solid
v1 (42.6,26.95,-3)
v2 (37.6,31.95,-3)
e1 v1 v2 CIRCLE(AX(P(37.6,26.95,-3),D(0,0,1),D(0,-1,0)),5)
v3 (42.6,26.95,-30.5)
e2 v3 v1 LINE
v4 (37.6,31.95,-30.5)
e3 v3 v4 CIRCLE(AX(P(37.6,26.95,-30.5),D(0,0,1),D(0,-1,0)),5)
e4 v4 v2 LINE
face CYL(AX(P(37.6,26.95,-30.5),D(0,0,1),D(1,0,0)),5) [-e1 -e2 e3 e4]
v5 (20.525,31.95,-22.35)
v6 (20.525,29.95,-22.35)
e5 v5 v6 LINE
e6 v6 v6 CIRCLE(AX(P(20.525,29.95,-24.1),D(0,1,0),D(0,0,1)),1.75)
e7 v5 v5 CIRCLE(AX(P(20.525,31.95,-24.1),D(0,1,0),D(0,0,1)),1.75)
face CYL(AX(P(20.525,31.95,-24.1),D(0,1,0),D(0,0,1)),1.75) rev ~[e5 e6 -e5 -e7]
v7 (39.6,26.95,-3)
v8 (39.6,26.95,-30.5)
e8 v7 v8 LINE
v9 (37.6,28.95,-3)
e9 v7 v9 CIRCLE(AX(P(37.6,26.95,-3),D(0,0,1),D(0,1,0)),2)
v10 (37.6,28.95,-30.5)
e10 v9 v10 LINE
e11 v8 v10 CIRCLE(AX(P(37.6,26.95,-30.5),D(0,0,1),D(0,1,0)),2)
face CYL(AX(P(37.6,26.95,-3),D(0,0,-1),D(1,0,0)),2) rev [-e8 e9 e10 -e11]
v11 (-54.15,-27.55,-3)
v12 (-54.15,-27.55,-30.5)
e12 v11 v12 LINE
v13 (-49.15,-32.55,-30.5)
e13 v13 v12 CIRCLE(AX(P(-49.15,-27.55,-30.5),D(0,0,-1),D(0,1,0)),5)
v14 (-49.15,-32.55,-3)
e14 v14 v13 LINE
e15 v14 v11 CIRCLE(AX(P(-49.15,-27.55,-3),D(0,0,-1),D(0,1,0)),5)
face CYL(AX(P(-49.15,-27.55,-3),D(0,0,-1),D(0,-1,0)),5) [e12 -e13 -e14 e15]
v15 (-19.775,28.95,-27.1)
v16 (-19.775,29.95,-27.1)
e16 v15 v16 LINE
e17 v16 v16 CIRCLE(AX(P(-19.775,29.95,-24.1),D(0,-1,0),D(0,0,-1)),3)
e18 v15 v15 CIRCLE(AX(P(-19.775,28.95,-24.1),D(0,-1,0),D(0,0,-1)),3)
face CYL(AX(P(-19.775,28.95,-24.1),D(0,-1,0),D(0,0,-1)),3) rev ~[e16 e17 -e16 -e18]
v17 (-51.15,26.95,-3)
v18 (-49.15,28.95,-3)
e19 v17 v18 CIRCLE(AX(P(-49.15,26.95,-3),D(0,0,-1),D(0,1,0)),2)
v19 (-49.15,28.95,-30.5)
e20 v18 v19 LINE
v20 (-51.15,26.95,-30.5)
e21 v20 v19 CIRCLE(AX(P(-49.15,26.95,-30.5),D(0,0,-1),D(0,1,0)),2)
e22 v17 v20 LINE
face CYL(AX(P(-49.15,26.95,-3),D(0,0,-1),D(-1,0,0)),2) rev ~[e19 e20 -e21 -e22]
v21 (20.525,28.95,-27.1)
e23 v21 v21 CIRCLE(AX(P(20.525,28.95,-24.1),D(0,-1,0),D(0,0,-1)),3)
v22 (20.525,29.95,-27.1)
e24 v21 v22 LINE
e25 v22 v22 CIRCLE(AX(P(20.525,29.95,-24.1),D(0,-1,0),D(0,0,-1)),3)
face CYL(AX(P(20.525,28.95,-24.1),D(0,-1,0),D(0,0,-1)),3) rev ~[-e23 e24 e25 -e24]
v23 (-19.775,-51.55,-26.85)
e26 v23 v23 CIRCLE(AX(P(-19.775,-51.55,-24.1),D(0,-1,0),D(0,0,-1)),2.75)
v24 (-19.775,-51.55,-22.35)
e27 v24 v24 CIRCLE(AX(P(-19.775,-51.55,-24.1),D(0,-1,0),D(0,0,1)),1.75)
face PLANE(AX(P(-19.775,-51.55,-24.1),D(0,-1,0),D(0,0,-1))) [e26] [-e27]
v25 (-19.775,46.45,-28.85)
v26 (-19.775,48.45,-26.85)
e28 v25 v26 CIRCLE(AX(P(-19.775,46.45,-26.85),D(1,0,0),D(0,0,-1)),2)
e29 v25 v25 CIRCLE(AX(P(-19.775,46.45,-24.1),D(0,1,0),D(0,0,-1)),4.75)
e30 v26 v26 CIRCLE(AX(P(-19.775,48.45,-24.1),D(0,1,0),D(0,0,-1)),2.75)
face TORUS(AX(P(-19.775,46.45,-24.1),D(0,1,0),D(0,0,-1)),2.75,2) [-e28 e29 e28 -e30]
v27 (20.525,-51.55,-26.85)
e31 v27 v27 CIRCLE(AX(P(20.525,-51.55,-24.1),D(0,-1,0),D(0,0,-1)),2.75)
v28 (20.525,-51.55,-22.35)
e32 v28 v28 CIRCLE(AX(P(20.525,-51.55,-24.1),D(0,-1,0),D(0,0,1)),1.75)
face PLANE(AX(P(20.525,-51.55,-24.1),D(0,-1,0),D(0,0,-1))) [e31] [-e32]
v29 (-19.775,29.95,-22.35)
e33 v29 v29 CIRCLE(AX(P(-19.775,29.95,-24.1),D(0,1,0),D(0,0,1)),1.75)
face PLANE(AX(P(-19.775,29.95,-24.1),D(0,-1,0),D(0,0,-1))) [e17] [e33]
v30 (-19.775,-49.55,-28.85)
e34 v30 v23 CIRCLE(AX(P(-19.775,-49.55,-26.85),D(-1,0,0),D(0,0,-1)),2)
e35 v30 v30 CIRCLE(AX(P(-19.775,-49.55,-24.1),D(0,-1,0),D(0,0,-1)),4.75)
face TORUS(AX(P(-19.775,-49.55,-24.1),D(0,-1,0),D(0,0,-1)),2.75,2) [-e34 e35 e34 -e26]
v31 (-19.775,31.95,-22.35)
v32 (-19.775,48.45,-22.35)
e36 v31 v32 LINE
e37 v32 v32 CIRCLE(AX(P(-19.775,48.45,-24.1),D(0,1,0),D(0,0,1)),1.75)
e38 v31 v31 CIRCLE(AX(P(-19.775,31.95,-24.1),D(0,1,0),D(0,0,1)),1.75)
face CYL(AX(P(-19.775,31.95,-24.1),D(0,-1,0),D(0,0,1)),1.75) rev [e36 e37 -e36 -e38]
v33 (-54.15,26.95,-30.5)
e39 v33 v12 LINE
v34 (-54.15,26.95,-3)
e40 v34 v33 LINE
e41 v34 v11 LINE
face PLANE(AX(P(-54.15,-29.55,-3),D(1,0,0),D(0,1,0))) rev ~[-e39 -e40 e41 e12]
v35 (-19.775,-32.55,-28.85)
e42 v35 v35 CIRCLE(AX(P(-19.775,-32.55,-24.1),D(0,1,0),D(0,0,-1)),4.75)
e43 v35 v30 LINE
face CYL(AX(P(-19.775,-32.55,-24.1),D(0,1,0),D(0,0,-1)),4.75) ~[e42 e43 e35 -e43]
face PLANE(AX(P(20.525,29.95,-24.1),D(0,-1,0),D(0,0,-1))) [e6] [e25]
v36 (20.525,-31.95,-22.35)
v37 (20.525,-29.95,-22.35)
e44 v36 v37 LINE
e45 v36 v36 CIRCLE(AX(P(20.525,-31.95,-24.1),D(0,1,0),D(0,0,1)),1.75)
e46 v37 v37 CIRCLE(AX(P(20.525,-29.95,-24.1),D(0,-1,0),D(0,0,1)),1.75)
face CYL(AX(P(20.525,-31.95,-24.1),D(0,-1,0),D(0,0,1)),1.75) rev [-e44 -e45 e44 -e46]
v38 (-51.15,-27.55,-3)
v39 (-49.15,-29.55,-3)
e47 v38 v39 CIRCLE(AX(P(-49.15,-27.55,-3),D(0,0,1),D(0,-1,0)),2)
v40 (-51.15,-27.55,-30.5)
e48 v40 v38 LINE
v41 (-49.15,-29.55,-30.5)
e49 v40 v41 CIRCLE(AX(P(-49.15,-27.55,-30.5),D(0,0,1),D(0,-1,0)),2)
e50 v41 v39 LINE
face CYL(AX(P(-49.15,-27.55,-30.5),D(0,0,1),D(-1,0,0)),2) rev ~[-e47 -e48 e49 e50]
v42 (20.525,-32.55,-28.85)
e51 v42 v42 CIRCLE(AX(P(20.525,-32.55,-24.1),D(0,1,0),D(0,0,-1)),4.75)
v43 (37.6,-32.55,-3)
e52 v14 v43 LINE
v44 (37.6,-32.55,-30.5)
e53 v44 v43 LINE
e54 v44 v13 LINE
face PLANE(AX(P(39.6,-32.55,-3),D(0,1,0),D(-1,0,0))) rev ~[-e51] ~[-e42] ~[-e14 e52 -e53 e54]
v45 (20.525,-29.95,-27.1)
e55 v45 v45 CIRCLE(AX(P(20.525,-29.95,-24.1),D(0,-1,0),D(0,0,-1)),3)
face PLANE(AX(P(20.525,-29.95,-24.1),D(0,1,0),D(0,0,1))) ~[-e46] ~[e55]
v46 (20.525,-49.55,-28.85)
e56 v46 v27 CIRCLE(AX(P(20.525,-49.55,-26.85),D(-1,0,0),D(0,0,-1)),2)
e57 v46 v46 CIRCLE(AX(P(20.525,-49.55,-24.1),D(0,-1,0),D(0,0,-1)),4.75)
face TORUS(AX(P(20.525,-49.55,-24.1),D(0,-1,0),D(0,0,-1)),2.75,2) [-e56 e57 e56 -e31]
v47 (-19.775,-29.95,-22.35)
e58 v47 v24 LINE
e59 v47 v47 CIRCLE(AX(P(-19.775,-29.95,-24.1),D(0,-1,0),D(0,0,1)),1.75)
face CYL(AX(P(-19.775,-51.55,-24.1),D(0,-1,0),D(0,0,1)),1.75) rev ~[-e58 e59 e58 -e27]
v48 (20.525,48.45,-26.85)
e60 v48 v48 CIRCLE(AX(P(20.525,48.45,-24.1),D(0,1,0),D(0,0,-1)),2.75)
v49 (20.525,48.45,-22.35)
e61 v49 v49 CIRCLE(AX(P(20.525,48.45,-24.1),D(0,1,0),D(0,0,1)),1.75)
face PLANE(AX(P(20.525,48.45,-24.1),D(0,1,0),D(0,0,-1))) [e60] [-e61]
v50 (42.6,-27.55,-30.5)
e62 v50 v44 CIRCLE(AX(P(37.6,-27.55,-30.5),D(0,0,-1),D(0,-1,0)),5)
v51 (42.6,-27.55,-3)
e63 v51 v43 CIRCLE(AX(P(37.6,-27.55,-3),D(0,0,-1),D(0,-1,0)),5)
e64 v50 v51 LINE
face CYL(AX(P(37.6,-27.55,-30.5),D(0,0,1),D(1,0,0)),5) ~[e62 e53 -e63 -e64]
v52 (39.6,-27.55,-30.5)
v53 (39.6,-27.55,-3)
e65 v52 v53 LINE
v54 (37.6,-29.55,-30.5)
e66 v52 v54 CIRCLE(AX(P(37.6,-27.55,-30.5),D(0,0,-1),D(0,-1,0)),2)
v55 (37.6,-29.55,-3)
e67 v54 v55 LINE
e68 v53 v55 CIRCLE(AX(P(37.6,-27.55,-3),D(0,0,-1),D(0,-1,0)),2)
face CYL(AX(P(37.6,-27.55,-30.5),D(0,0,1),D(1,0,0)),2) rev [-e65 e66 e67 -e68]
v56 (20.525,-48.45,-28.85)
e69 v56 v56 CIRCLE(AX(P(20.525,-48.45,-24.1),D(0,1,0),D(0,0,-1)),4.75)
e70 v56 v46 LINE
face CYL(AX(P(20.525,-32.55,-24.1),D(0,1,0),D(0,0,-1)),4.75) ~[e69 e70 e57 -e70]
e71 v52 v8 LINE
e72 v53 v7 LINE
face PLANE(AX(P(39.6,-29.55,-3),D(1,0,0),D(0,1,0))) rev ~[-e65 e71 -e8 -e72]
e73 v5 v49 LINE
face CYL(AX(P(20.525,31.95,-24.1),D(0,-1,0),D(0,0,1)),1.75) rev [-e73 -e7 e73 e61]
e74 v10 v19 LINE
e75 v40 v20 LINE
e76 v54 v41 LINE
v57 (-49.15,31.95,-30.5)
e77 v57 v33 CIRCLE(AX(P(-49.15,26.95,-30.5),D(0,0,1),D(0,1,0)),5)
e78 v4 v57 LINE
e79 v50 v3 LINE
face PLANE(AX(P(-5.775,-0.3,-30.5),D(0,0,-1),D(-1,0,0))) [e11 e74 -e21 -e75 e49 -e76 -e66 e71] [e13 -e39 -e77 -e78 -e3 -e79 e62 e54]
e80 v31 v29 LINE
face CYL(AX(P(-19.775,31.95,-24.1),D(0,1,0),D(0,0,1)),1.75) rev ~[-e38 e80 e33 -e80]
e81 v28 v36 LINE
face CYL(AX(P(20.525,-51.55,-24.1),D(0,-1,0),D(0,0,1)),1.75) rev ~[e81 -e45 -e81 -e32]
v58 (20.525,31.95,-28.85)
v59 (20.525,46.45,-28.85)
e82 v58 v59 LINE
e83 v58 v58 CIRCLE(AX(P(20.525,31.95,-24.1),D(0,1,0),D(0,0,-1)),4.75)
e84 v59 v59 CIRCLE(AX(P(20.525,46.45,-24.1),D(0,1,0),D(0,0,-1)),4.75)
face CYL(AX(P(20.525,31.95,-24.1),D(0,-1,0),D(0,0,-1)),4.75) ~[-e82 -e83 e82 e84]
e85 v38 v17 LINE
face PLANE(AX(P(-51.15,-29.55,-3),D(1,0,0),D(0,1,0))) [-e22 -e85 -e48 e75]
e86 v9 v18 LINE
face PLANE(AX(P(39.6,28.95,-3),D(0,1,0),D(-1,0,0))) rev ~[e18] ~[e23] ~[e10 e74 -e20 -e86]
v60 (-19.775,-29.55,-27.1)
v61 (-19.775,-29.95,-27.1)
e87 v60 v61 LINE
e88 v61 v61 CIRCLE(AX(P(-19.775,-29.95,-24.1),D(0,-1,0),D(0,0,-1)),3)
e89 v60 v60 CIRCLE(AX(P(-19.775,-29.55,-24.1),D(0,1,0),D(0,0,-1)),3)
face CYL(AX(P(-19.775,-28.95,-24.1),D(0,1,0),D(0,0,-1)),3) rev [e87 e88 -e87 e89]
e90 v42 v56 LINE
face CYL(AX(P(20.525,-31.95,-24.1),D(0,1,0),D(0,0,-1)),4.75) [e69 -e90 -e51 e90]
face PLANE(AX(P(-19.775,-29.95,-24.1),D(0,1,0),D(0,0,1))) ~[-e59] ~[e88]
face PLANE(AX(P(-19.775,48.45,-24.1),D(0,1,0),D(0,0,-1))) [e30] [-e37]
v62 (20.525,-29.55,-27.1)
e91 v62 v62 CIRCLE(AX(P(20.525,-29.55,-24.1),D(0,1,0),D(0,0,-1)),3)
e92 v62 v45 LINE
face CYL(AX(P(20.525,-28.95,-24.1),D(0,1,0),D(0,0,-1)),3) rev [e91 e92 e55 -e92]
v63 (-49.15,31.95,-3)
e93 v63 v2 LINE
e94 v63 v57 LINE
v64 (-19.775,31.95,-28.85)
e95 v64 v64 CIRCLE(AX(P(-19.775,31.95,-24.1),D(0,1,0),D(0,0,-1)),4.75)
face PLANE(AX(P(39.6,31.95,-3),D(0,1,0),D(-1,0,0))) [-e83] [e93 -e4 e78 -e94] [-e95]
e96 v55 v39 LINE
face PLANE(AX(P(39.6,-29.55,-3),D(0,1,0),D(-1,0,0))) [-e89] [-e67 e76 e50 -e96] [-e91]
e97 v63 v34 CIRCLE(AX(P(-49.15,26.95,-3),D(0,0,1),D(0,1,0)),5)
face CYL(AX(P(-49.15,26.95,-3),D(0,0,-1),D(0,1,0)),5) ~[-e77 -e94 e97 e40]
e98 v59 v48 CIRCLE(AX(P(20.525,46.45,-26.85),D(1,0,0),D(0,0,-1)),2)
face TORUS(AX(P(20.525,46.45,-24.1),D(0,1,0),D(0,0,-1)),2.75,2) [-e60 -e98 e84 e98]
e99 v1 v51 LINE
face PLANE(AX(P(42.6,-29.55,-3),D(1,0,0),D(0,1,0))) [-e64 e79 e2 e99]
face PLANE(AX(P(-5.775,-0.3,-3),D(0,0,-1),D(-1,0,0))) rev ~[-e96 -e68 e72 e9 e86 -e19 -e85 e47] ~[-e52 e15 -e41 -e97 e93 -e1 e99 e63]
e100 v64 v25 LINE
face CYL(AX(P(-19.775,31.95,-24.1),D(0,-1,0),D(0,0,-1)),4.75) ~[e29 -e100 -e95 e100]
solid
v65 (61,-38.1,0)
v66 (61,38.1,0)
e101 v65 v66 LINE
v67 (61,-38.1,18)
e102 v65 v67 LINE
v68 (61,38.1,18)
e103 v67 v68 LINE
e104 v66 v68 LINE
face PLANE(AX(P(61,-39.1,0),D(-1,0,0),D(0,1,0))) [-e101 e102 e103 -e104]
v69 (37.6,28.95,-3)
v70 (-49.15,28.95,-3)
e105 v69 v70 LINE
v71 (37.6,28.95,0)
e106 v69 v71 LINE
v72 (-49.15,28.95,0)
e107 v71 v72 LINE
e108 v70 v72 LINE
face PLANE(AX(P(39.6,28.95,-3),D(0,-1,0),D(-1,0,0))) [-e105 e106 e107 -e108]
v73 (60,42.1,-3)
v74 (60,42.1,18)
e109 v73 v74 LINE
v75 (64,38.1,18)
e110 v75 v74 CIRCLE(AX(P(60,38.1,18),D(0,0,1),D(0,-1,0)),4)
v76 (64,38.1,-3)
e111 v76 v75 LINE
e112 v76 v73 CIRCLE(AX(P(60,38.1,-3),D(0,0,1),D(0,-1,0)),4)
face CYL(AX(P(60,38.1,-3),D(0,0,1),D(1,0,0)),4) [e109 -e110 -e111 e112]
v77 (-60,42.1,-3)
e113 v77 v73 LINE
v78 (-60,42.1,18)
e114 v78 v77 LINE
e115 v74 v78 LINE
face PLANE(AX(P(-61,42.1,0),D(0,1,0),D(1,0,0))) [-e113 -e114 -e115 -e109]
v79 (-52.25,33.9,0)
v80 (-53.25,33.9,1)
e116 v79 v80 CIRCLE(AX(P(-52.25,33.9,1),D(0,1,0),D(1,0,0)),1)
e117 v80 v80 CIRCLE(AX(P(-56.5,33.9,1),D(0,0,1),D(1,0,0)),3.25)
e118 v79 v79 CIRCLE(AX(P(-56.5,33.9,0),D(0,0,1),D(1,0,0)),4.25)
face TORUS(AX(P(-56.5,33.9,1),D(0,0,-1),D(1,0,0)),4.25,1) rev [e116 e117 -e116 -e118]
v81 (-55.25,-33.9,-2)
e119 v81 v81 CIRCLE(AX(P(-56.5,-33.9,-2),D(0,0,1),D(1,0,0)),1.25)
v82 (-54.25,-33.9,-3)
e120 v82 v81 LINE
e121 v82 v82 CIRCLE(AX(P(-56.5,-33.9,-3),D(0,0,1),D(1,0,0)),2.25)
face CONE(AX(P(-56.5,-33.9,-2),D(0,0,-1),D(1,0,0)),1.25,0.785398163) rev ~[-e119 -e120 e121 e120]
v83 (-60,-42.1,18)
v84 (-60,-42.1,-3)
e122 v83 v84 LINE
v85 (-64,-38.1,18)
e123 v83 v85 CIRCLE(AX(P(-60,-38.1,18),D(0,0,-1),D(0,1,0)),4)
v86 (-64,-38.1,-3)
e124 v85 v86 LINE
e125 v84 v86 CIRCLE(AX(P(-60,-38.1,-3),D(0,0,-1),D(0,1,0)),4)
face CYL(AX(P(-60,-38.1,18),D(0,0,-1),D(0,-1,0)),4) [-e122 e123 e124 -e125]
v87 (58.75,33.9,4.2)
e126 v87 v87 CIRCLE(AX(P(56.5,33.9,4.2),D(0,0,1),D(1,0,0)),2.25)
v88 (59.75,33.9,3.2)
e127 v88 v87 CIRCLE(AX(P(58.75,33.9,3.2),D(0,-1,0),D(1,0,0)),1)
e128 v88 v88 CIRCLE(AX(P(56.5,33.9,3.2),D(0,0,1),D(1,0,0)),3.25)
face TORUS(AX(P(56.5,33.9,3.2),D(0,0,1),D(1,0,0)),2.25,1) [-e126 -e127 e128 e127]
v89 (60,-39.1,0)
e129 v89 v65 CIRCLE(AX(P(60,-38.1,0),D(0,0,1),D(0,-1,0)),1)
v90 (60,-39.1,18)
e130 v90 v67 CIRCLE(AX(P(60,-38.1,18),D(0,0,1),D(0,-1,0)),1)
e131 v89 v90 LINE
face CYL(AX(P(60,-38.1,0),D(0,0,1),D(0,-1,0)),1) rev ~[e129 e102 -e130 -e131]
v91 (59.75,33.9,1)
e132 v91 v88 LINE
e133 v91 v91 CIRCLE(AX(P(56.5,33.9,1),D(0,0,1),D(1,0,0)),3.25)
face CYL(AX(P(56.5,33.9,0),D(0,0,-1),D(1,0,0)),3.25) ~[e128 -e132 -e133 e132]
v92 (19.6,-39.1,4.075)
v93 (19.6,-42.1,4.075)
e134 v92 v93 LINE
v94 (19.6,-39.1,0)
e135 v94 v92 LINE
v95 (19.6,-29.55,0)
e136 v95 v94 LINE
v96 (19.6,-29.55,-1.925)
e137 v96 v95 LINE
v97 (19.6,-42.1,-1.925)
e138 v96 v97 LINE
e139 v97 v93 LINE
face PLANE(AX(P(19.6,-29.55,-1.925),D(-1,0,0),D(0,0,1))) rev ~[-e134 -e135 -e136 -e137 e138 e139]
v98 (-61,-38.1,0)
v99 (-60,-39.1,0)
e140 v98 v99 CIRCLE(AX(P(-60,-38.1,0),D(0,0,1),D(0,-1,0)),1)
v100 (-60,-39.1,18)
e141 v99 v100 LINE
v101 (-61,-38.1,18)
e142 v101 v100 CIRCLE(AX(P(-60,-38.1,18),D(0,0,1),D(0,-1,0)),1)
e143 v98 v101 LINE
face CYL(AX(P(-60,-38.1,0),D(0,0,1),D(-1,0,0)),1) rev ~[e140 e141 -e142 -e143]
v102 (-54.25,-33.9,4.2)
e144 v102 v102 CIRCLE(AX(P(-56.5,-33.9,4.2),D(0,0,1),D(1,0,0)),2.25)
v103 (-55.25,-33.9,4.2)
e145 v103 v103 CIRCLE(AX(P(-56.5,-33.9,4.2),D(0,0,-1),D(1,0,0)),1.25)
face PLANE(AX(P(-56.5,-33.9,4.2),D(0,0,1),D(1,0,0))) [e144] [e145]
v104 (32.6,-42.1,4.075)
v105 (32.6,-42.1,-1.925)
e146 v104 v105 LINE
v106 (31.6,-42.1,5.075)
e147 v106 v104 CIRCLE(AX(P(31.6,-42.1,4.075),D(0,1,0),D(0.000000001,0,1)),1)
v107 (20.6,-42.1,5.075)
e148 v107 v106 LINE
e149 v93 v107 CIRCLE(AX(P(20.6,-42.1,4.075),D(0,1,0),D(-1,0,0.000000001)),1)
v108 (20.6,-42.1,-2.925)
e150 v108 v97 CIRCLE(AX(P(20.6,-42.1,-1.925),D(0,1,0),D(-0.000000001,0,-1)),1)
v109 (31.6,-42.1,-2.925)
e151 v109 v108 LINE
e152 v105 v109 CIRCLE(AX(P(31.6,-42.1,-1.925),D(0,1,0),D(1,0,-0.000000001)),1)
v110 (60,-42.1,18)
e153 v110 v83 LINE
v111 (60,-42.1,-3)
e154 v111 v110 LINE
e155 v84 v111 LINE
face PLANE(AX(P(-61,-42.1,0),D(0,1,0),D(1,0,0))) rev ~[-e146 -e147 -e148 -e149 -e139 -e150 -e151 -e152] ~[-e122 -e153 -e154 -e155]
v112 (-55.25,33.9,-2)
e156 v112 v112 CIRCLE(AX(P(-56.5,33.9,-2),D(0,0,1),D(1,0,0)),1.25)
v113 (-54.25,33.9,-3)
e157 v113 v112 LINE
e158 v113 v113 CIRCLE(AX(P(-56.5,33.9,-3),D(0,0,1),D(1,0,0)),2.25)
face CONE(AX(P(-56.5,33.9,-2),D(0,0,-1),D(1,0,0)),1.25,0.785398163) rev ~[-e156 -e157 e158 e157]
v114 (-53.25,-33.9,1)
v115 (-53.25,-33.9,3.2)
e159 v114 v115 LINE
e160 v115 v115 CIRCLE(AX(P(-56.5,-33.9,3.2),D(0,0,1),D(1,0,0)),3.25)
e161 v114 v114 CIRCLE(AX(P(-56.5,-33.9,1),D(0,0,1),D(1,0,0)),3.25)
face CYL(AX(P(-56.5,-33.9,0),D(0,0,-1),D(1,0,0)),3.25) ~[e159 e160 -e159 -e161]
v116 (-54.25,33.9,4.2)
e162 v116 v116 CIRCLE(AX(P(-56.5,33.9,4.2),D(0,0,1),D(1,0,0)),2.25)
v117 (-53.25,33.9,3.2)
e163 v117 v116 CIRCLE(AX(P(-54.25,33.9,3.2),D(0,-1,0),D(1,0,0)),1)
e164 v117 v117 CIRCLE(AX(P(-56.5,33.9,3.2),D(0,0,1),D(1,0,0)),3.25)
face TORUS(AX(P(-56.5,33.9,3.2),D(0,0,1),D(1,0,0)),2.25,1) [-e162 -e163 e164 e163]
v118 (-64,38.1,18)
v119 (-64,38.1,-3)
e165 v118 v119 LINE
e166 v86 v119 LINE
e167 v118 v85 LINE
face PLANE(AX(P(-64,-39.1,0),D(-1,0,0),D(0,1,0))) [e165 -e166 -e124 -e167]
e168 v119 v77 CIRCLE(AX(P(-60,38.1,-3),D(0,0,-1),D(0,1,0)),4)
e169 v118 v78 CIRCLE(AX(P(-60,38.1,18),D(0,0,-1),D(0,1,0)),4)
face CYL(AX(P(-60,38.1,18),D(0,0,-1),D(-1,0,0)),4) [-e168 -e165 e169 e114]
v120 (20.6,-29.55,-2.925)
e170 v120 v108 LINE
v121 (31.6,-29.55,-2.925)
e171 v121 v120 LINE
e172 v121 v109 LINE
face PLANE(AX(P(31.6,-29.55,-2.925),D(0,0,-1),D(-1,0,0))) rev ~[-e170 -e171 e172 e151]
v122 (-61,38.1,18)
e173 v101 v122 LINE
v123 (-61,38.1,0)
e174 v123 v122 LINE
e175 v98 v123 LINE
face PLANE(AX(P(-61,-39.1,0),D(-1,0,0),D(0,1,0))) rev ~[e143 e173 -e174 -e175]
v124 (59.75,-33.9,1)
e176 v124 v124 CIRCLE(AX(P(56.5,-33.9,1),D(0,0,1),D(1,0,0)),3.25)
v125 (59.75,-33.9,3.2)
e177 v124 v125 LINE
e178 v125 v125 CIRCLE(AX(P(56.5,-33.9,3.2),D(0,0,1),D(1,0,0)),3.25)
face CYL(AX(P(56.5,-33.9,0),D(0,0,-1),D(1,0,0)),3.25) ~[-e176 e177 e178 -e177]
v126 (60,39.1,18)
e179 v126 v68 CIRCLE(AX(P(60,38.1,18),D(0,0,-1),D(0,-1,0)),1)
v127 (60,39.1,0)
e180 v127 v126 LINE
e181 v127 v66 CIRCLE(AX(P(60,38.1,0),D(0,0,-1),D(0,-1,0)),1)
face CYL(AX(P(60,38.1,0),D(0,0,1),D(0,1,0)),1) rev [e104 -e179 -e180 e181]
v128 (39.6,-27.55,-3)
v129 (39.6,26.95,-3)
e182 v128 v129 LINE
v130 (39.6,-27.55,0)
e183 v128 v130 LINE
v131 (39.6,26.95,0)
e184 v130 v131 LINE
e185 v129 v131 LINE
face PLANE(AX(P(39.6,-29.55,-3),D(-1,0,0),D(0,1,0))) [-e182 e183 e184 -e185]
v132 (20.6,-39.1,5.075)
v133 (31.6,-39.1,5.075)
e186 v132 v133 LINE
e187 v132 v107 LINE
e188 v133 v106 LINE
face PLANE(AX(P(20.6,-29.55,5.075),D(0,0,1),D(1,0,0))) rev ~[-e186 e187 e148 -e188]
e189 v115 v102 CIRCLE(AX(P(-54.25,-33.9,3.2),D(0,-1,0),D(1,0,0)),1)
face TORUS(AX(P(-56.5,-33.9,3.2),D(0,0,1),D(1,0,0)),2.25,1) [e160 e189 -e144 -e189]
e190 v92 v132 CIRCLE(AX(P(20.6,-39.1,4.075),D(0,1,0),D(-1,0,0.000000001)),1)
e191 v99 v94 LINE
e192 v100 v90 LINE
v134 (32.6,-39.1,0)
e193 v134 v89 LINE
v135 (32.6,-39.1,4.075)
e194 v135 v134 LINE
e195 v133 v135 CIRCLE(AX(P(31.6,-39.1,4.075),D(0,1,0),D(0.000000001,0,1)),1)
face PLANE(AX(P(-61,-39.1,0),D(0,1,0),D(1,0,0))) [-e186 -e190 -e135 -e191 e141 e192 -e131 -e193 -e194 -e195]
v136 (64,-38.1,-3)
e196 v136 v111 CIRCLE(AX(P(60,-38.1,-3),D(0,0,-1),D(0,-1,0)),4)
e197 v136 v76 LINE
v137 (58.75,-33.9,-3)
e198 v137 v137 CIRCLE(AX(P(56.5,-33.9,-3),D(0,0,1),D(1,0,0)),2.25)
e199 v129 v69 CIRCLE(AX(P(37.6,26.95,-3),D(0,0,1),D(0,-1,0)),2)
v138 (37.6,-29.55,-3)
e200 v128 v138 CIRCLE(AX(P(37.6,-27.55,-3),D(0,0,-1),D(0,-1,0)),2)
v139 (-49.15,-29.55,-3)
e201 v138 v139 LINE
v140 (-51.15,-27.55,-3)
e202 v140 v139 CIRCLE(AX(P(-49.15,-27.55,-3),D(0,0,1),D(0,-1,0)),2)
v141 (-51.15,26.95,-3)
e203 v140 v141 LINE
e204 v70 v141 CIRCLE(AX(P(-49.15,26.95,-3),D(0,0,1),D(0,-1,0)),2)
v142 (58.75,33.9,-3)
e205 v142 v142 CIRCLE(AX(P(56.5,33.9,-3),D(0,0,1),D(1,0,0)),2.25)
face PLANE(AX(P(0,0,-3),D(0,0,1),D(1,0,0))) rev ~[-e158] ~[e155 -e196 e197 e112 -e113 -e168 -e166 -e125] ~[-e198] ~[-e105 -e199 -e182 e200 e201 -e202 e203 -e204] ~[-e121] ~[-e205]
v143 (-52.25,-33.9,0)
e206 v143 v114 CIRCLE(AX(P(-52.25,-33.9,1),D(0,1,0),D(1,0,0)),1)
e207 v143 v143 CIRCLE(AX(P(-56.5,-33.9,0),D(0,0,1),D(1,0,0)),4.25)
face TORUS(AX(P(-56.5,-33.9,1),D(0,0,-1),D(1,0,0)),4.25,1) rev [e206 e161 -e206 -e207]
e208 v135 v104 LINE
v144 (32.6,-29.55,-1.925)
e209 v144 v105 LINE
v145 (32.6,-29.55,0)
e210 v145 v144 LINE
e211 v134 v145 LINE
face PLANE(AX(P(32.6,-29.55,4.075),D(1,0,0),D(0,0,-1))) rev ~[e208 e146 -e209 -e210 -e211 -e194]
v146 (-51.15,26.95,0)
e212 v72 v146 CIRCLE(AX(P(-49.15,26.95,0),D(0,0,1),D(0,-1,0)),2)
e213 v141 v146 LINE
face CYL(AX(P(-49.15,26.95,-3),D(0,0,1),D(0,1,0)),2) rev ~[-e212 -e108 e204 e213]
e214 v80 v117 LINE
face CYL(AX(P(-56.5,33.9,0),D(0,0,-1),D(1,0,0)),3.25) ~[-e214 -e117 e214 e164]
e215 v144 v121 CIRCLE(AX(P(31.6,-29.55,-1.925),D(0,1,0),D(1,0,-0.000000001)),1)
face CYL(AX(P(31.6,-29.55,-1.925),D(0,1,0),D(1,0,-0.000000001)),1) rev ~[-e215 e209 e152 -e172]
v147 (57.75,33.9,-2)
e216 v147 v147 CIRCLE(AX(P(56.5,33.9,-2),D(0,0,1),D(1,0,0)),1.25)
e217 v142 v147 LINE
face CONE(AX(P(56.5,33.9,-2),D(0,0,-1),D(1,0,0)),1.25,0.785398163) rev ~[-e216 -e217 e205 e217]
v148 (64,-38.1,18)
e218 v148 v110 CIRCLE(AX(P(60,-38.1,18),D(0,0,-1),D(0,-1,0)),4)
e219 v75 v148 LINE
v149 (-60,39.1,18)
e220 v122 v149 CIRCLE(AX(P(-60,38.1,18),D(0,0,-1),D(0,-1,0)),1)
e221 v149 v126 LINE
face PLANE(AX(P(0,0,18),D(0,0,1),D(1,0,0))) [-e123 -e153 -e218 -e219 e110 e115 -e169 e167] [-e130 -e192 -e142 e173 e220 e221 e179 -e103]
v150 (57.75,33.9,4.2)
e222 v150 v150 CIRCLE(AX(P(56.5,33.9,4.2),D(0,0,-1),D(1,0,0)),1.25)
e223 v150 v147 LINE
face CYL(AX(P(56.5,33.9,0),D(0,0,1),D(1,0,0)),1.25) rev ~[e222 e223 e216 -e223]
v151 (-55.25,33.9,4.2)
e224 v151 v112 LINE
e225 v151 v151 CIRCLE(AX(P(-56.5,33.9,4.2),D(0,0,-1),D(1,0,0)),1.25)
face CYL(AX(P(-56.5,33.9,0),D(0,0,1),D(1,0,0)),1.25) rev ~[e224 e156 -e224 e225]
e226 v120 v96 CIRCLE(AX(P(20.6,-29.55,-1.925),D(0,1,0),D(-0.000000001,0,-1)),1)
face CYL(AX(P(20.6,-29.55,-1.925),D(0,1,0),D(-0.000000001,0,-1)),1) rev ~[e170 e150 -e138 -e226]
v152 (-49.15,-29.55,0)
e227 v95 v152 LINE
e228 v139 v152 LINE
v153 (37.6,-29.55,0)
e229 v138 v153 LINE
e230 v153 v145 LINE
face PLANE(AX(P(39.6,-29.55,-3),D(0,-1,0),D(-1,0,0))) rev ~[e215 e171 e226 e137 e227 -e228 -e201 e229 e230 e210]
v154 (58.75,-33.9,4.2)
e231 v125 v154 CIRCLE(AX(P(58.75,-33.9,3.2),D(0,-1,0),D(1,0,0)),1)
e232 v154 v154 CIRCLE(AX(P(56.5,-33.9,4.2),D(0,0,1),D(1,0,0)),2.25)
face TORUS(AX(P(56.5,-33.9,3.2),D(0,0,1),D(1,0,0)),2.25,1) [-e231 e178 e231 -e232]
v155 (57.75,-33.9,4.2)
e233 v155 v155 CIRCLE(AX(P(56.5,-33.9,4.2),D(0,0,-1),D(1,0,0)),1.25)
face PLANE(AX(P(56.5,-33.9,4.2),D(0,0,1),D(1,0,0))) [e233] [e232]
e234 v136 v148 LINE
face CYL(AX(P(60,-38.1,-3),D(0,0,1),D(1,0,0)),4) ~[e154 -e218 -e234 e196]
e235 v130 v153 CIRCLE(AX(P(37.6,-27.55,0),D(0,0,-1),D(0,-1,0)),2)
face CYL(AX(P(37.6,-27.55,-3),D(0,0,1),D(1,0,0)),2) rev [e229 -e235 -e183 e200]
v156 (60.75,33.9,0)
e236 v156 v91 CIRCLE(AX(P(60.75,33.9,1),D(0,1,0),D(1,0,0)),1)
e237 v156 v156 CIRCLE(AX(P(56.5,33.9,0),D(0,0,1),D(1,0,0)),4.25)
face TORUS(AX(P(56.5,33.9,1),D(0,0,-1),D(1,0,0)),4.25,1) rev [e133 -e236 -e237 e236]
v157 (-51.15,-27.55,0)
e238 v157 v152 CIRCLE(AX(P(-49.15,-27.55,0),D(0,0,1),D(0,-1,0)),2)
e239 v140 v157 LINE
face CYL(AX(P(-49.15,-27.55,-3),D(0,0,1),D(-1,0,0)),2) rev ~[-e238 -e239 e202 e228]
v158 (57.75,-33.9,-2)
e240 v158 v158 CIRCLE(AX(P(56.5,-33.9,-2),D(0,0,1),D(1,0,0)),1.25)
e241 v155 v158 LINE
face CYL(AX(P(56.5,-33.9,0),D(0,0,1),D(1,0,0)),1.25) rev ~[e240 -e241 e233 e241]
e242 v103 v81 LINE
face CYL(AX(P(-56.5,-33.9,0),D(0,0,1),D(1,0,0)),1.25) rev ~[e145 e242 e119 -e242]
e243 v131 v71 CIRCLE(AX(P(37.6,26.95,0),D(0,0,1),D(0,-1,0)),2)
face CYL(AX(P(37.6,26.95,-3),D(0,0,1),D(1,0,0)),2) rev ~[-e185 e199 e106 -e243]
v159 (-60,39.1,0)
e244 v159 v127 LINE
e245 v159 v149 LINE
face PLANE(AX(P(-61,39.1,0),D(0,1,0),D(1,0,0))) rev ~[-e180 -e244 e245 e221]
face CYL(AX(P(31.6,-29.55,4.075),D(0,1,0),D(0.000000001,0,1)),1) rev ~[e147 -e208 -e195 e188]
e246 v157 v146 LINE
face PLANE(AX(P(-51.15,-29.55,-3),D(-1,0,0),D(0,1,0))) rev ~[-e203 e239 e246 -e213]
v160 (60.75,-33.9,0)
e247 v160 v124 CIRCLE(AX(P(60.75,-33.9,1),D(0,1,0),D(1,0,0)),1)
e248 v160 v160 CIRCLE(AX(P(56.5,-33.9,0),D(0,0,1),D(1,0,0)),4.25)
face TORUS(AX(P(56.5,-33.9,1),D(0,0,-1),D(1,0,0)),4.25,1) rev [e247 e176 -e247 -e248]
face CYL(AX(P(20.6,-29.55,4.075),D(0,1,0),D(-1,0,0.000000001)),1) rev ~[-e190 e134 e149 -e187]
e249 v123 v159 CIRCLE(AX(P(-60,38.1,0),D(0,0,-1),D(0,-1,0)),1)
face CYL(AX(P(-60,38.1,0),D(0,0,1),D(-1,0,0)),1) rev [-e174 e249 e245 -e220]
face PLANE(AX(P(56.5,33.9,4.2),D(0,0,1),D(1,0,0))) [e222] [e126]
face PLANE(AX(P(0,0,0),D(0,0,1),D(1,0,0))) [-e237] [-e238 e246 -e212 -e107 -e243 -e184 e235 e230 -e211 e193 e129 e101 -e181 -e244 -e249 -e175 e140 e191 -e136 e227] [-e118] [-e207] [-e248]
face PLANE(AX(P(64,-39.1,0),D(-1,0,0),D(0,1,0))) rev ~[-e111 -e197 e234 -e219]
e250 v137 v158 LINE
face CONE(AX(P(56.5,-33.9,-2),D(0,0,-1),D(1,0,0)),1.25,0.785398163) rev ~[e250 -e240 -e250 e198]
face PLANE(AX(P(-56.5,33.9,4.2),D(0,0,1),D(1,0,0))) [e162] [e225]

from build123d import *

# Parameters (mm, degrees)
ESQUISSE1_W                         = 122
ESQUISSE1_H                         = 78.2
ESQUISSE1_R                         = 3.25
BOSS_EXTRU_1_DEPTH                  = 18
COQUE1_T                            = 3
ENL_V_MAT_EXTRU_1_REACH             = 80.692
ESQUISSE1_3_R                       = 1.25
ENL_V_MAT_EXTRU_1_DIRECTION_2_REACH = 80.692
ESQUISSE2_R                         = 3.25
ENL_V_MAT_EXTRU_2_DEPTH             = 13.8
ESQUISSE3_W                         = 90.75
ESQUISSE3_H                         = 58.5
BOSS_EXTRU_2_DEPTH                  = 24.5
ENL_V_MAT_EXTRU_3_REACH             = 82.428
ESQUISSE3_2_W                       = 90.75
ESQUISSE3_2_H                       = 58.5
COQUE2_T                            = 3
ESQUISSE3_3_W                       = 90.75
ESQUISSE3_3_H                       = 58.5
ENL_V_MAT_EXTRU_5_DEPTH             = 27.5
CONG_1_R                            = 1
CONG_2_R                            = 4
CONG_3_R                            = 2
CONG_4_R                            = 2
CONG_5_R                            = 5
CHANFREIN1_SIZE                     = 1
ESQUISSE4_R                         = 1.75
ENL_V_MAT_EXTRU_8_DEPTH             = 3
ESQUISSE6_R                         = 3
ENL_V_MAT_EXTRU_9_DEPTH             = 1
ESQUISSE4_5_R                       = 4.75
ESQUISSE4_5_R_2                     = 1.75
BOSS_EXTRU_4_DEPTH                  = 16.5
ESQUISSE8_R                         = 4.75
BOSS_EXTRU_5_DEPTH                  = 19
ESQUISSE9_R                         = 1.75
ENL_V_MAT_EXTRU_10_DEPTH            = 19.6
CONG_6_R                            = 2
ENL_V_START                         = -12.55
ENL_V_MAT_EXTRU_11_DEPTH            = 12.55


with BuildPart() as part:
    # Esquisse1 → Boss.-Extru.1 (new body)
    with BuildSketch(Plane.XY):
        Rectangle(ESQUISSE1_W, ESQUISSE1_H)
        with Locations((-56.5, -33.9)):
            Circle(ESQUISSE1_R, mode=Mode.SUBTRACT)
        with Locations((-56.5, 33.9)):
            Circle(ESQUISSE1_R, mode=Mode.SUBTRACT)
        with Locations((56.5, -33.9)):
            Circle(ESQUISSE1_R, mode=Mode.SUBTRACT)
        with Locations((56.5, 33.9)):
            Circle(ESQUISSE1_R, mode=Mode.SUBTRACT)
    extrude(amount=BOSS_EXTRU_1_DEPTH)

    # Coque1
    coque1_openings = [part.faces().sort_by_distance(p)[0] for p in [
        (0, 0, 18),
    ]]
    offset(amount=COQUE1_T, openings=coque1_openings, kind=Kind.INTERSECTION)

    # Esquisse1_3 → Enl_v. mat.-Extru.1 (cut, up to next)
    with BuildSketch(Plane.XY, mode=Mode.PRIVATE) as enl_v_mat_extru_1_sk1:
        with Locations((-56.5, -33.9)):
            Circle(ESQUISSE1_3_R)
    enl_v_mat_extru_1_tool1 = extrude(enl_v_mat_extru_1_sk1.sketch, amount=ENL_V_MAT_EXTRU_1_REACH, mode=Mode.PRIVATE) & part.part
    # Esquisse1_3 → Enl_v. mat.-Extru.1 (cut, up to next)
    with BuildSketch(Plane.XY, mode=Mode.PRIVATE) as enl_v_mat_extru_1_sk2:
        with Locations((56.5, -33.9)):
            Circle(ESQUISSE1_3_R)
    enl_v_mat_extru_1_tool2 = extrude(enl_v_mat_extru_1_sk2.sketch, amount=ENL_V_MAT_EXTRU_1_REACH, mode=Mode.PRIVATE) & part.part
    # Esquisse1_3 → Enl_v. mat.-Extru.1 (cut, up to next)
    with BuildSketch(Plane.XY, mode=Mode.PRIVATE) as enl_v_mat_extru_1_sk3:
        with Locations((56.5, 33.9)):
            Circle(ESQUISSE1_3_R)
    enl_v_mat_extru_1_tool3 = extrude(enl_v_mat_extru_1_sk3.sketch, amount=ENL_V_MAT_EXTRU_1_REACH, mode=Mode.PRIVATE) & part.part
    # Esquisse1_3 → Enl_v. mat.-Extru.1 (cut, up to next)
    with BuildSketch(Plane.XY, mode=Mode.PRIVATE) as enl_v_mat_extru_1_sk4:
        with Locations((-56.5, 33.9)):
            Circle(ESQUISSE1_3_R)
    enl_v_mat_extru_1_tool4 = extrude(enl_v_mat_extru_1_sk4.sketch, amount=ENL_V_MAT_EXTRU_1_REACH, mode=Mode.PRIVATE) & part.part
    add(enl_v_mat_extru_1_tool1.solids().sort_by_distance((-56.5, -33.9, 0))[0], mode=Mode.SUBTRACT)
    add(enl_v_mat_extru_1_tool2.solids().sort_by_distance((56.5, -33.9, 0))[0], mode=Mode.SUBTRACT)
    add(enl_v_mat_extru_1_tool3.solids().sort_by_distance((56.5, 33.9, 0))[0], mode=Mode.SUBTRACT)
    add(enl_v_mat_extru_1_tool4.solids().sort_by_distance((-56.5, 33.9, 0))[0], mode=Mode.SUBTRACT)

    # Esquisse1_3 → Enl_v. mat.-Extru.1 direction 2 (cut, up to next)
    with BuildSketch(Plane.XY, mode=Mode.PRIVATE) as enl_v_mat_extru_1_direction_2_sk1:
        with Locations((-56.5, -33.9)):
            Circle(ESQUISSE1_3_R)
    enl_v_mat_extru_1_direction_2_tool1 = extrude(enl_v_mat_extru_1_direction_2_sk1.sketch, amount=-ENL_V_MAT_EXTRU_1_DIRECTION_2_REACH, mode=Mode.PRIVATE) & part.part
    # Esquisse1_3 → Enl_v. mat.-Extru.1 direction 2 (cut, up to next)
    with BuildSketch(Plane.XY, mode=Mode.PRIVATE) as enl_v_mat_extru_1_direction_2_sk2:
        with Locations((56.5, -33.9)):
            Circle(ESQUISSE1_3_R)
    enl_v_mat_extru_1_direction_2_tool2 = extrude(enl_v_mat_extru_1_direction_2_sk2.sketch, amount=-ENL_V_MAT_EXTRU_1_DIRECTION_2_REACH, mode=Mode.PRIVATE) & part.part
    # Esquisse1_3 → Enl_v. mat.-Extru.1 direction 2 (cut, up to next)
    with BuildSketch(Plane.XY, mode=Mode.PRIVATE) as enl_v_mat_extru_1_direction_2_sk3:
        with Locations((56.5, 33.9)):
            Circle(ESQUISSE1_3_R)
    enl_v_mat_extru_1_direction_2_tool3 = extrude(enl_v_mat_extru_1_direction_2_sk3.sketch, amount=-ENL_V_MAT_EXTRU_1_DIRECTION_2_REACH, mode=Mode.PRIVATE) & part.part
    # Esquisse1_3 → Enl_v. mat.-Extru.1 direction 2 (cut, up to next)
    with BuildSketch(Plane.XY, mode=Mode.PRIVATE) as enl_v_mat_extru_1_direction_2_sk4:
        with Locations((-56.5, 33.9)):
            Circle(ESQUISSE1_3_R)
    enl_v_mat_extru_1_direction_2_tool4 = extrude(enl_v_mat_extru_1_direction_2_sk4.sketch, amount=-ENL_V_MAT_EXTRU_1_DIRECTION_2_REACH, mode=Mode.PRIVATE) & part.part
    add(enl_v_mat_extru_1_direction_2_tool1.solids().sort_by_distance((-56.5, -33.9, 0))[0], mode=Mode.SUBTRACT)
    add(enl_v_mat_extru_1_direction_2_tool2.solids().sort_by_distance((56.5, -33.9, 0))[0], mode=Mode.SUBTRACT)
    add(enl_v_mat_extru_1_direction_2_tool3.solids().sort_by_distance((56.5, 33.9, 0))[0], mode=Mode.SUBTRACT)
    add(enl_v_mat_extru_1_direction_2_tool4.solids().sort_by_distance((-56.5, 33.9, 0))[0], mode=Mode.SUBTRACT)

    # Esquisse2 → Enl_v. mat.-Extru.2 (cut)
    with BuildSketch(Plane.XY.offset(18)):
        with Locations((-56.5, 33.9)):
            Circle(ESQUISSE2_R)
        with Locations((56.5, 33.9)):
            Circle(ESQUISSE2_R)
        with Locations((56.5, -33.9)):
            Circle(ESQUISSE2_R)
        with Locations((-56.5, -33.9)):
            Circle(ESQUISSE2_R)
    extrude(amount=-ENL_V_MAT_EXTRU_2_DEPTH, mode=Mode.SUBTRACT)

    # Esquisse3 → Boss.-Extru.2 (add)
    with BuildSketch(Plane(origin=(0, 0, -3), x_dir=(-1, 0, 0), z_dir=(0, 0, -1))):
        with Locations((5.775, -0.3)):
            Rectangle(ESQUISSE3_W, ESQUISSE3_H)
    extrude(amount=BOSS_EXTRU_2_DEPTH)

    # Esquisse3_2 → Enl_v. mat.-Extru.3 (cut, up to next)
    with BuildSketch(Plane(origin=(0, 0, -3), x_dir=(-1, 0, 0), z_dir=(0, 0, -1)), mode=Mode.PRIVATE) as enl_v_mat_extru_3_sk1:
        with Locations((5.775, -0.3)):
            Rectangle(ESQUISSE3_2_W, ESQUISSE3_2_H)
    enl_v_mat_extru_3_tool1 = extrude(enl_v_mat_extru_3_sk1.sketch, amount=-ENL_V_MAT_EXTRU_3_REACH, mode=Mode.PRIVATE) & part.part
    add(enl_v_mat_extru_3_tool1.solids().sort_by_distance((-5.775, -0.3, -3))[0], mode=Mode.SUBTRACT)


with BuildPart() as enl_v_mat_extru_3_piece_1:
    # of the separate pieces the step leaves, piece 1, a body of its own (enl_v_mat_extru_3_pieces)
    add(part.part.solids().sort_by_distance((39.6, 28.95, -27.5))[0])

    # Coque2
    coque2_openings = [enl_v_mat_extru_3_piece_1.faces().sort_by_distance(p)[0] for p in [
        (-5.775, -0.3, -3),
    ]]
    offset(amount=COQUE2_T, openings=coque2_openings, kind=Kind.INTERSECTION)

    # Esquisse3_3 → Enl_v. mat.-Extru.5 (cut)
    with BuildSketch(Plane(origin=(0, 0, -3), x_dir=(-1, 0, 0), z_dir=(0, 0, -1))):
        with Locations((5.775, -0.3)):
            Rectangle(ESQUISSE3_3_W, ESQUISSE3_3_H)
    extrude(amount=ENL_V_MAT_EXTRU_5_DEPTH, mode=Mode.SUBTRACT)

    # Cong_3
    cong_3_edges = [enl_v_mat_extru_3_piece_1.edges().sort_by_distance(p)[0] for p in [
        (-51.15, 28.95, -16.75),
        (-51.15, -29.55, -16.75),
        (39.6, -29.55, -16.75),
        (39.6, 28.95, -16.75),
    ]]
    fillet(cong_3_edges, radius=CONG_3_R)

    # Cong_5
    cong_5_edges = [enl_v_mat_extru_3_piece_1.edges().sort_by_distance(p)[0] for p in [
        (42.6, 31.95, -16.75),
        (42.6, -32.55, -16.75),
        (-54.15, -32.55, -16.75),
        (-54.15, 31.95, -16.75),
    ]]
    fillet(cong_5_edges, radius=CONG_5_R)

    # Esquisse4 → Enl_v. mat.-Extru.8 (cut)
    with BuildSketch(Plane(origin=(0, 31.95, 0), x_dir=(1, 0, 0), z_dir=(0, 1, 0))):
        with Locations(Location((-19.775, 24.1, 0), (0, 0, 270))):
            Circle(ESQUISSE4_R)
        with Locations(Location((20.525, 24.1, 0), (0, 0, 270))):
            Circle(ESQUISSE4_R)
    enl_v_mat_extru_8 = extrude(amount=-ENL_V_MAT_EXTRU_8_DEPTH, mode=Mode.SUBTRACT)

    # Esquisse6 → Enl_v. mat.-Extru.9 (cut)
    with BuildSketch(Plane.XZ.offset(-28.95)):
        with Locations(Location((-19.775, -24.1, 0), (0, 0, 270))):
            Circle(ESQUISSE6_R)
        with Locations(Location((20.525, -24.1, 0), (0, 0, 270))):
            Circle(ESQUISSE6_R)
    enl_v_mat_extru_9 = extrude(amount=-ENL_V_MAT_EXTRU_9_DEPTH, mode=Mode.SUBTRACT)

    # Esquisse4_5 → Boss.-Extru.4 (add)
    with BuildSketch(Plane(origin=(0, 31.95, 0), x_dir=(1, 0, 0), z_dir=(0, 1, 0))):
        with Locations(Location((-19.775, 24.1, 0), (0, 0, 90))):
            Circle(ESQUISSE4_5_R)
        with Locations(Location((-19.775, 24.1, 0), (0, 0, 270))):
            Circle(ESQUISSE4_5_R_2, mode=Mode.SUBTRACT)
        with Locations(Location((20.525, 24.1, 0), (0, 0, 90))):
            Circle(ESQUISSE4_5_R)
        with Locations(Location((20.525, 24.1, 0), (0, 0, 270))):
            Circle(ESQUISSE4_5_R_2, mode=Mode.SUBTRACT)
    boss_extru_4 = extrude(amount=BOSS_EXTRU_4_DEPTH)

    # Sym_trie1: Enl_v. mat.-Extru.8, Enl_v. mat.-Extru.9, Boss.-Extru.4 across plane
    add(enl_v_mat_extru_8.mirror(Plane.ZX), mode=Mode.SUBTRACT)
    add(enl_v_mat_extru_9.mirror(Plane.ZX), mode=Mode.SUBTRACT)
    add(boss_extru_4.mirror(Plane.ZX))

    # Esquisse8 → Boss.-Extru.5 (add)
    with BuildSketch(Plane.XZ.offset(32.55)):
        with Locations(Location((-19.775, -24.1, 0), (0, 0, 270))):
            Circle(ESQUISSE8_R)
        with Locations(Location((20.525, -24.1, 0), (0, 0, 270))):
            Circle(ESQUISSE8_R)
    extrude(amount=BOSS_EXTRU_5_DEPTH)

    # Esquisse9 → Enl_v. mat.-Extru.10 (cut)
    with BuildSketch(Plane.XZ.offset(51.55)):
        with Locations(Location((20.525, -24.1, 0), (0, 0, 90))):
            Circle(ESQUISSE9_R)
        with Locations(Location((-19.775, -24.1, 0), (0, 0, 90))):
            Circle(ESQUISSE9_R)
    extrude(amount=-ENL_V_MAT_EXTRU_10_DEPTH, mode=Mode.SUBTRACT)

    # Cong_6
    cong_6_edges = [enl_v_mat_extru_3_piece_1.edges().sort_by_distance(p)[0] for p in [
        (-19.775, 48.45, -19.35),
        (20.525, 48.45, -19.35),
        (-19.775, -51.55, -19.35),
        (20.525, -51.55, -19.35),
    ]]
    fillet(cong_6_edges, radius=CONG_6_R)


with BuildPart() as enl_v_mat_extru_3_piece_2:
    # of the separate pieces the step leaves, piece 2, a body of its own (enl_v_mat_extru_3_pieces)
    add(part.part.solids().sort_by_distance((61, 39.1, 0))[0])

    # Cong_1
    cong_1_edges = [enl_v_mat_extru_3_piece_2.edges().sort_by_distance(p)[0] for p in [
        (53.25, -33.9, 0),
        (-59.75, 33.9, 0),
        (61, 39.1, 9),
        (-61, 39.1, 9),
        (-61, -39.1, 9),
        (61, -39.1, 9),
        (-59.75, -33.9, 0),
        (53.25, 33.9, 0),
        (-59.75, 33.9, 4.2),
        (53.25, 33.9, 4.2),
        (53.25, -33.9, 4.2),
        (-59.75, -33.9, 4.2),
    ]]
    fillet(cong_1_edges, radius=CONG_1_R)

    # Cong_2
    cong_2_edges = [enl_v_mat_extru_3_piece_2.edges().sort_by_distance(p)[0] for p in [
        (64, -42.1, 7.5),
        (64, 42.1, 7.5),
        (-64, 42.1, 7.5),
        (-64, -42.1, 7.5),
    ]]
    fillet(cong_2_edges, radius=CONG_2_R)

    # Cong_4
    cong_4_edges = [enl_v_mat_extru_3_piece_2.edges().sort_by_distance(p)[0] for p in [
        (39.6, 28.95, -1.5),
        (-51.15, 28.95, -1.5),
        (-51.15, -29.55, -1.5),
        (39.6, -29.55, -1.5),
    ]]
    fillet(cong_4_edges, radius=CONG_4_R)

    # Chanfrein1
    chanfrein1_edges = [enl_v_mat_extru_3_piece_2.edges().sort_by_distance(p)[0] for p in [
        (55.25, 33.9, -3),
        (-57.75, -33.9, -3),
        (55.25, -33.9, -3),
        (-57.75, 33.9, -3),
    ]]
    chamfer(chanfrein1_edges, length=CHANFREIN1_SIZE)

    # Esquisse10 → Enl_v. mat.-Extru.11 (cut)
    with BuildSketch(Plane.XZ.offset(42.1).offset(ENL_V_START)):
        with BuildLine():
            Line((20.6, 5.075), (31.6, 5.075))
            ThreePointArc((31.6, 5.075), (32.307106781, 4.782106781), (32.6, 4.075))
            Line((32.6, 4.075), (32.6, -1.925))
            ThreePointArc((32.6, -1.925), (32.307106781, -2.632106781), (31.6, -2.925))
            Line((31.6, -2.925), (20.6, -2.925))
            ThreePointArc((20.6, -2.925), (19.892893219, -2.632106781), (19.6, -1.925))
            Line((19.6, -1.925), (19.6, 4.075))
            ThreePointArc((19.6, 4.075), (19.892893219, 4.782106781), (20.6, 5.075))
        make_face()
    extrude(amount=ENL_V_MAT_EXTRU_11_DEPTH, mode=Mode.SUBTRACT)


solid = Compound([enl_v_mat_extru_3_piece_1.part, enl_v_mat_extru_3_piece_2.part])
